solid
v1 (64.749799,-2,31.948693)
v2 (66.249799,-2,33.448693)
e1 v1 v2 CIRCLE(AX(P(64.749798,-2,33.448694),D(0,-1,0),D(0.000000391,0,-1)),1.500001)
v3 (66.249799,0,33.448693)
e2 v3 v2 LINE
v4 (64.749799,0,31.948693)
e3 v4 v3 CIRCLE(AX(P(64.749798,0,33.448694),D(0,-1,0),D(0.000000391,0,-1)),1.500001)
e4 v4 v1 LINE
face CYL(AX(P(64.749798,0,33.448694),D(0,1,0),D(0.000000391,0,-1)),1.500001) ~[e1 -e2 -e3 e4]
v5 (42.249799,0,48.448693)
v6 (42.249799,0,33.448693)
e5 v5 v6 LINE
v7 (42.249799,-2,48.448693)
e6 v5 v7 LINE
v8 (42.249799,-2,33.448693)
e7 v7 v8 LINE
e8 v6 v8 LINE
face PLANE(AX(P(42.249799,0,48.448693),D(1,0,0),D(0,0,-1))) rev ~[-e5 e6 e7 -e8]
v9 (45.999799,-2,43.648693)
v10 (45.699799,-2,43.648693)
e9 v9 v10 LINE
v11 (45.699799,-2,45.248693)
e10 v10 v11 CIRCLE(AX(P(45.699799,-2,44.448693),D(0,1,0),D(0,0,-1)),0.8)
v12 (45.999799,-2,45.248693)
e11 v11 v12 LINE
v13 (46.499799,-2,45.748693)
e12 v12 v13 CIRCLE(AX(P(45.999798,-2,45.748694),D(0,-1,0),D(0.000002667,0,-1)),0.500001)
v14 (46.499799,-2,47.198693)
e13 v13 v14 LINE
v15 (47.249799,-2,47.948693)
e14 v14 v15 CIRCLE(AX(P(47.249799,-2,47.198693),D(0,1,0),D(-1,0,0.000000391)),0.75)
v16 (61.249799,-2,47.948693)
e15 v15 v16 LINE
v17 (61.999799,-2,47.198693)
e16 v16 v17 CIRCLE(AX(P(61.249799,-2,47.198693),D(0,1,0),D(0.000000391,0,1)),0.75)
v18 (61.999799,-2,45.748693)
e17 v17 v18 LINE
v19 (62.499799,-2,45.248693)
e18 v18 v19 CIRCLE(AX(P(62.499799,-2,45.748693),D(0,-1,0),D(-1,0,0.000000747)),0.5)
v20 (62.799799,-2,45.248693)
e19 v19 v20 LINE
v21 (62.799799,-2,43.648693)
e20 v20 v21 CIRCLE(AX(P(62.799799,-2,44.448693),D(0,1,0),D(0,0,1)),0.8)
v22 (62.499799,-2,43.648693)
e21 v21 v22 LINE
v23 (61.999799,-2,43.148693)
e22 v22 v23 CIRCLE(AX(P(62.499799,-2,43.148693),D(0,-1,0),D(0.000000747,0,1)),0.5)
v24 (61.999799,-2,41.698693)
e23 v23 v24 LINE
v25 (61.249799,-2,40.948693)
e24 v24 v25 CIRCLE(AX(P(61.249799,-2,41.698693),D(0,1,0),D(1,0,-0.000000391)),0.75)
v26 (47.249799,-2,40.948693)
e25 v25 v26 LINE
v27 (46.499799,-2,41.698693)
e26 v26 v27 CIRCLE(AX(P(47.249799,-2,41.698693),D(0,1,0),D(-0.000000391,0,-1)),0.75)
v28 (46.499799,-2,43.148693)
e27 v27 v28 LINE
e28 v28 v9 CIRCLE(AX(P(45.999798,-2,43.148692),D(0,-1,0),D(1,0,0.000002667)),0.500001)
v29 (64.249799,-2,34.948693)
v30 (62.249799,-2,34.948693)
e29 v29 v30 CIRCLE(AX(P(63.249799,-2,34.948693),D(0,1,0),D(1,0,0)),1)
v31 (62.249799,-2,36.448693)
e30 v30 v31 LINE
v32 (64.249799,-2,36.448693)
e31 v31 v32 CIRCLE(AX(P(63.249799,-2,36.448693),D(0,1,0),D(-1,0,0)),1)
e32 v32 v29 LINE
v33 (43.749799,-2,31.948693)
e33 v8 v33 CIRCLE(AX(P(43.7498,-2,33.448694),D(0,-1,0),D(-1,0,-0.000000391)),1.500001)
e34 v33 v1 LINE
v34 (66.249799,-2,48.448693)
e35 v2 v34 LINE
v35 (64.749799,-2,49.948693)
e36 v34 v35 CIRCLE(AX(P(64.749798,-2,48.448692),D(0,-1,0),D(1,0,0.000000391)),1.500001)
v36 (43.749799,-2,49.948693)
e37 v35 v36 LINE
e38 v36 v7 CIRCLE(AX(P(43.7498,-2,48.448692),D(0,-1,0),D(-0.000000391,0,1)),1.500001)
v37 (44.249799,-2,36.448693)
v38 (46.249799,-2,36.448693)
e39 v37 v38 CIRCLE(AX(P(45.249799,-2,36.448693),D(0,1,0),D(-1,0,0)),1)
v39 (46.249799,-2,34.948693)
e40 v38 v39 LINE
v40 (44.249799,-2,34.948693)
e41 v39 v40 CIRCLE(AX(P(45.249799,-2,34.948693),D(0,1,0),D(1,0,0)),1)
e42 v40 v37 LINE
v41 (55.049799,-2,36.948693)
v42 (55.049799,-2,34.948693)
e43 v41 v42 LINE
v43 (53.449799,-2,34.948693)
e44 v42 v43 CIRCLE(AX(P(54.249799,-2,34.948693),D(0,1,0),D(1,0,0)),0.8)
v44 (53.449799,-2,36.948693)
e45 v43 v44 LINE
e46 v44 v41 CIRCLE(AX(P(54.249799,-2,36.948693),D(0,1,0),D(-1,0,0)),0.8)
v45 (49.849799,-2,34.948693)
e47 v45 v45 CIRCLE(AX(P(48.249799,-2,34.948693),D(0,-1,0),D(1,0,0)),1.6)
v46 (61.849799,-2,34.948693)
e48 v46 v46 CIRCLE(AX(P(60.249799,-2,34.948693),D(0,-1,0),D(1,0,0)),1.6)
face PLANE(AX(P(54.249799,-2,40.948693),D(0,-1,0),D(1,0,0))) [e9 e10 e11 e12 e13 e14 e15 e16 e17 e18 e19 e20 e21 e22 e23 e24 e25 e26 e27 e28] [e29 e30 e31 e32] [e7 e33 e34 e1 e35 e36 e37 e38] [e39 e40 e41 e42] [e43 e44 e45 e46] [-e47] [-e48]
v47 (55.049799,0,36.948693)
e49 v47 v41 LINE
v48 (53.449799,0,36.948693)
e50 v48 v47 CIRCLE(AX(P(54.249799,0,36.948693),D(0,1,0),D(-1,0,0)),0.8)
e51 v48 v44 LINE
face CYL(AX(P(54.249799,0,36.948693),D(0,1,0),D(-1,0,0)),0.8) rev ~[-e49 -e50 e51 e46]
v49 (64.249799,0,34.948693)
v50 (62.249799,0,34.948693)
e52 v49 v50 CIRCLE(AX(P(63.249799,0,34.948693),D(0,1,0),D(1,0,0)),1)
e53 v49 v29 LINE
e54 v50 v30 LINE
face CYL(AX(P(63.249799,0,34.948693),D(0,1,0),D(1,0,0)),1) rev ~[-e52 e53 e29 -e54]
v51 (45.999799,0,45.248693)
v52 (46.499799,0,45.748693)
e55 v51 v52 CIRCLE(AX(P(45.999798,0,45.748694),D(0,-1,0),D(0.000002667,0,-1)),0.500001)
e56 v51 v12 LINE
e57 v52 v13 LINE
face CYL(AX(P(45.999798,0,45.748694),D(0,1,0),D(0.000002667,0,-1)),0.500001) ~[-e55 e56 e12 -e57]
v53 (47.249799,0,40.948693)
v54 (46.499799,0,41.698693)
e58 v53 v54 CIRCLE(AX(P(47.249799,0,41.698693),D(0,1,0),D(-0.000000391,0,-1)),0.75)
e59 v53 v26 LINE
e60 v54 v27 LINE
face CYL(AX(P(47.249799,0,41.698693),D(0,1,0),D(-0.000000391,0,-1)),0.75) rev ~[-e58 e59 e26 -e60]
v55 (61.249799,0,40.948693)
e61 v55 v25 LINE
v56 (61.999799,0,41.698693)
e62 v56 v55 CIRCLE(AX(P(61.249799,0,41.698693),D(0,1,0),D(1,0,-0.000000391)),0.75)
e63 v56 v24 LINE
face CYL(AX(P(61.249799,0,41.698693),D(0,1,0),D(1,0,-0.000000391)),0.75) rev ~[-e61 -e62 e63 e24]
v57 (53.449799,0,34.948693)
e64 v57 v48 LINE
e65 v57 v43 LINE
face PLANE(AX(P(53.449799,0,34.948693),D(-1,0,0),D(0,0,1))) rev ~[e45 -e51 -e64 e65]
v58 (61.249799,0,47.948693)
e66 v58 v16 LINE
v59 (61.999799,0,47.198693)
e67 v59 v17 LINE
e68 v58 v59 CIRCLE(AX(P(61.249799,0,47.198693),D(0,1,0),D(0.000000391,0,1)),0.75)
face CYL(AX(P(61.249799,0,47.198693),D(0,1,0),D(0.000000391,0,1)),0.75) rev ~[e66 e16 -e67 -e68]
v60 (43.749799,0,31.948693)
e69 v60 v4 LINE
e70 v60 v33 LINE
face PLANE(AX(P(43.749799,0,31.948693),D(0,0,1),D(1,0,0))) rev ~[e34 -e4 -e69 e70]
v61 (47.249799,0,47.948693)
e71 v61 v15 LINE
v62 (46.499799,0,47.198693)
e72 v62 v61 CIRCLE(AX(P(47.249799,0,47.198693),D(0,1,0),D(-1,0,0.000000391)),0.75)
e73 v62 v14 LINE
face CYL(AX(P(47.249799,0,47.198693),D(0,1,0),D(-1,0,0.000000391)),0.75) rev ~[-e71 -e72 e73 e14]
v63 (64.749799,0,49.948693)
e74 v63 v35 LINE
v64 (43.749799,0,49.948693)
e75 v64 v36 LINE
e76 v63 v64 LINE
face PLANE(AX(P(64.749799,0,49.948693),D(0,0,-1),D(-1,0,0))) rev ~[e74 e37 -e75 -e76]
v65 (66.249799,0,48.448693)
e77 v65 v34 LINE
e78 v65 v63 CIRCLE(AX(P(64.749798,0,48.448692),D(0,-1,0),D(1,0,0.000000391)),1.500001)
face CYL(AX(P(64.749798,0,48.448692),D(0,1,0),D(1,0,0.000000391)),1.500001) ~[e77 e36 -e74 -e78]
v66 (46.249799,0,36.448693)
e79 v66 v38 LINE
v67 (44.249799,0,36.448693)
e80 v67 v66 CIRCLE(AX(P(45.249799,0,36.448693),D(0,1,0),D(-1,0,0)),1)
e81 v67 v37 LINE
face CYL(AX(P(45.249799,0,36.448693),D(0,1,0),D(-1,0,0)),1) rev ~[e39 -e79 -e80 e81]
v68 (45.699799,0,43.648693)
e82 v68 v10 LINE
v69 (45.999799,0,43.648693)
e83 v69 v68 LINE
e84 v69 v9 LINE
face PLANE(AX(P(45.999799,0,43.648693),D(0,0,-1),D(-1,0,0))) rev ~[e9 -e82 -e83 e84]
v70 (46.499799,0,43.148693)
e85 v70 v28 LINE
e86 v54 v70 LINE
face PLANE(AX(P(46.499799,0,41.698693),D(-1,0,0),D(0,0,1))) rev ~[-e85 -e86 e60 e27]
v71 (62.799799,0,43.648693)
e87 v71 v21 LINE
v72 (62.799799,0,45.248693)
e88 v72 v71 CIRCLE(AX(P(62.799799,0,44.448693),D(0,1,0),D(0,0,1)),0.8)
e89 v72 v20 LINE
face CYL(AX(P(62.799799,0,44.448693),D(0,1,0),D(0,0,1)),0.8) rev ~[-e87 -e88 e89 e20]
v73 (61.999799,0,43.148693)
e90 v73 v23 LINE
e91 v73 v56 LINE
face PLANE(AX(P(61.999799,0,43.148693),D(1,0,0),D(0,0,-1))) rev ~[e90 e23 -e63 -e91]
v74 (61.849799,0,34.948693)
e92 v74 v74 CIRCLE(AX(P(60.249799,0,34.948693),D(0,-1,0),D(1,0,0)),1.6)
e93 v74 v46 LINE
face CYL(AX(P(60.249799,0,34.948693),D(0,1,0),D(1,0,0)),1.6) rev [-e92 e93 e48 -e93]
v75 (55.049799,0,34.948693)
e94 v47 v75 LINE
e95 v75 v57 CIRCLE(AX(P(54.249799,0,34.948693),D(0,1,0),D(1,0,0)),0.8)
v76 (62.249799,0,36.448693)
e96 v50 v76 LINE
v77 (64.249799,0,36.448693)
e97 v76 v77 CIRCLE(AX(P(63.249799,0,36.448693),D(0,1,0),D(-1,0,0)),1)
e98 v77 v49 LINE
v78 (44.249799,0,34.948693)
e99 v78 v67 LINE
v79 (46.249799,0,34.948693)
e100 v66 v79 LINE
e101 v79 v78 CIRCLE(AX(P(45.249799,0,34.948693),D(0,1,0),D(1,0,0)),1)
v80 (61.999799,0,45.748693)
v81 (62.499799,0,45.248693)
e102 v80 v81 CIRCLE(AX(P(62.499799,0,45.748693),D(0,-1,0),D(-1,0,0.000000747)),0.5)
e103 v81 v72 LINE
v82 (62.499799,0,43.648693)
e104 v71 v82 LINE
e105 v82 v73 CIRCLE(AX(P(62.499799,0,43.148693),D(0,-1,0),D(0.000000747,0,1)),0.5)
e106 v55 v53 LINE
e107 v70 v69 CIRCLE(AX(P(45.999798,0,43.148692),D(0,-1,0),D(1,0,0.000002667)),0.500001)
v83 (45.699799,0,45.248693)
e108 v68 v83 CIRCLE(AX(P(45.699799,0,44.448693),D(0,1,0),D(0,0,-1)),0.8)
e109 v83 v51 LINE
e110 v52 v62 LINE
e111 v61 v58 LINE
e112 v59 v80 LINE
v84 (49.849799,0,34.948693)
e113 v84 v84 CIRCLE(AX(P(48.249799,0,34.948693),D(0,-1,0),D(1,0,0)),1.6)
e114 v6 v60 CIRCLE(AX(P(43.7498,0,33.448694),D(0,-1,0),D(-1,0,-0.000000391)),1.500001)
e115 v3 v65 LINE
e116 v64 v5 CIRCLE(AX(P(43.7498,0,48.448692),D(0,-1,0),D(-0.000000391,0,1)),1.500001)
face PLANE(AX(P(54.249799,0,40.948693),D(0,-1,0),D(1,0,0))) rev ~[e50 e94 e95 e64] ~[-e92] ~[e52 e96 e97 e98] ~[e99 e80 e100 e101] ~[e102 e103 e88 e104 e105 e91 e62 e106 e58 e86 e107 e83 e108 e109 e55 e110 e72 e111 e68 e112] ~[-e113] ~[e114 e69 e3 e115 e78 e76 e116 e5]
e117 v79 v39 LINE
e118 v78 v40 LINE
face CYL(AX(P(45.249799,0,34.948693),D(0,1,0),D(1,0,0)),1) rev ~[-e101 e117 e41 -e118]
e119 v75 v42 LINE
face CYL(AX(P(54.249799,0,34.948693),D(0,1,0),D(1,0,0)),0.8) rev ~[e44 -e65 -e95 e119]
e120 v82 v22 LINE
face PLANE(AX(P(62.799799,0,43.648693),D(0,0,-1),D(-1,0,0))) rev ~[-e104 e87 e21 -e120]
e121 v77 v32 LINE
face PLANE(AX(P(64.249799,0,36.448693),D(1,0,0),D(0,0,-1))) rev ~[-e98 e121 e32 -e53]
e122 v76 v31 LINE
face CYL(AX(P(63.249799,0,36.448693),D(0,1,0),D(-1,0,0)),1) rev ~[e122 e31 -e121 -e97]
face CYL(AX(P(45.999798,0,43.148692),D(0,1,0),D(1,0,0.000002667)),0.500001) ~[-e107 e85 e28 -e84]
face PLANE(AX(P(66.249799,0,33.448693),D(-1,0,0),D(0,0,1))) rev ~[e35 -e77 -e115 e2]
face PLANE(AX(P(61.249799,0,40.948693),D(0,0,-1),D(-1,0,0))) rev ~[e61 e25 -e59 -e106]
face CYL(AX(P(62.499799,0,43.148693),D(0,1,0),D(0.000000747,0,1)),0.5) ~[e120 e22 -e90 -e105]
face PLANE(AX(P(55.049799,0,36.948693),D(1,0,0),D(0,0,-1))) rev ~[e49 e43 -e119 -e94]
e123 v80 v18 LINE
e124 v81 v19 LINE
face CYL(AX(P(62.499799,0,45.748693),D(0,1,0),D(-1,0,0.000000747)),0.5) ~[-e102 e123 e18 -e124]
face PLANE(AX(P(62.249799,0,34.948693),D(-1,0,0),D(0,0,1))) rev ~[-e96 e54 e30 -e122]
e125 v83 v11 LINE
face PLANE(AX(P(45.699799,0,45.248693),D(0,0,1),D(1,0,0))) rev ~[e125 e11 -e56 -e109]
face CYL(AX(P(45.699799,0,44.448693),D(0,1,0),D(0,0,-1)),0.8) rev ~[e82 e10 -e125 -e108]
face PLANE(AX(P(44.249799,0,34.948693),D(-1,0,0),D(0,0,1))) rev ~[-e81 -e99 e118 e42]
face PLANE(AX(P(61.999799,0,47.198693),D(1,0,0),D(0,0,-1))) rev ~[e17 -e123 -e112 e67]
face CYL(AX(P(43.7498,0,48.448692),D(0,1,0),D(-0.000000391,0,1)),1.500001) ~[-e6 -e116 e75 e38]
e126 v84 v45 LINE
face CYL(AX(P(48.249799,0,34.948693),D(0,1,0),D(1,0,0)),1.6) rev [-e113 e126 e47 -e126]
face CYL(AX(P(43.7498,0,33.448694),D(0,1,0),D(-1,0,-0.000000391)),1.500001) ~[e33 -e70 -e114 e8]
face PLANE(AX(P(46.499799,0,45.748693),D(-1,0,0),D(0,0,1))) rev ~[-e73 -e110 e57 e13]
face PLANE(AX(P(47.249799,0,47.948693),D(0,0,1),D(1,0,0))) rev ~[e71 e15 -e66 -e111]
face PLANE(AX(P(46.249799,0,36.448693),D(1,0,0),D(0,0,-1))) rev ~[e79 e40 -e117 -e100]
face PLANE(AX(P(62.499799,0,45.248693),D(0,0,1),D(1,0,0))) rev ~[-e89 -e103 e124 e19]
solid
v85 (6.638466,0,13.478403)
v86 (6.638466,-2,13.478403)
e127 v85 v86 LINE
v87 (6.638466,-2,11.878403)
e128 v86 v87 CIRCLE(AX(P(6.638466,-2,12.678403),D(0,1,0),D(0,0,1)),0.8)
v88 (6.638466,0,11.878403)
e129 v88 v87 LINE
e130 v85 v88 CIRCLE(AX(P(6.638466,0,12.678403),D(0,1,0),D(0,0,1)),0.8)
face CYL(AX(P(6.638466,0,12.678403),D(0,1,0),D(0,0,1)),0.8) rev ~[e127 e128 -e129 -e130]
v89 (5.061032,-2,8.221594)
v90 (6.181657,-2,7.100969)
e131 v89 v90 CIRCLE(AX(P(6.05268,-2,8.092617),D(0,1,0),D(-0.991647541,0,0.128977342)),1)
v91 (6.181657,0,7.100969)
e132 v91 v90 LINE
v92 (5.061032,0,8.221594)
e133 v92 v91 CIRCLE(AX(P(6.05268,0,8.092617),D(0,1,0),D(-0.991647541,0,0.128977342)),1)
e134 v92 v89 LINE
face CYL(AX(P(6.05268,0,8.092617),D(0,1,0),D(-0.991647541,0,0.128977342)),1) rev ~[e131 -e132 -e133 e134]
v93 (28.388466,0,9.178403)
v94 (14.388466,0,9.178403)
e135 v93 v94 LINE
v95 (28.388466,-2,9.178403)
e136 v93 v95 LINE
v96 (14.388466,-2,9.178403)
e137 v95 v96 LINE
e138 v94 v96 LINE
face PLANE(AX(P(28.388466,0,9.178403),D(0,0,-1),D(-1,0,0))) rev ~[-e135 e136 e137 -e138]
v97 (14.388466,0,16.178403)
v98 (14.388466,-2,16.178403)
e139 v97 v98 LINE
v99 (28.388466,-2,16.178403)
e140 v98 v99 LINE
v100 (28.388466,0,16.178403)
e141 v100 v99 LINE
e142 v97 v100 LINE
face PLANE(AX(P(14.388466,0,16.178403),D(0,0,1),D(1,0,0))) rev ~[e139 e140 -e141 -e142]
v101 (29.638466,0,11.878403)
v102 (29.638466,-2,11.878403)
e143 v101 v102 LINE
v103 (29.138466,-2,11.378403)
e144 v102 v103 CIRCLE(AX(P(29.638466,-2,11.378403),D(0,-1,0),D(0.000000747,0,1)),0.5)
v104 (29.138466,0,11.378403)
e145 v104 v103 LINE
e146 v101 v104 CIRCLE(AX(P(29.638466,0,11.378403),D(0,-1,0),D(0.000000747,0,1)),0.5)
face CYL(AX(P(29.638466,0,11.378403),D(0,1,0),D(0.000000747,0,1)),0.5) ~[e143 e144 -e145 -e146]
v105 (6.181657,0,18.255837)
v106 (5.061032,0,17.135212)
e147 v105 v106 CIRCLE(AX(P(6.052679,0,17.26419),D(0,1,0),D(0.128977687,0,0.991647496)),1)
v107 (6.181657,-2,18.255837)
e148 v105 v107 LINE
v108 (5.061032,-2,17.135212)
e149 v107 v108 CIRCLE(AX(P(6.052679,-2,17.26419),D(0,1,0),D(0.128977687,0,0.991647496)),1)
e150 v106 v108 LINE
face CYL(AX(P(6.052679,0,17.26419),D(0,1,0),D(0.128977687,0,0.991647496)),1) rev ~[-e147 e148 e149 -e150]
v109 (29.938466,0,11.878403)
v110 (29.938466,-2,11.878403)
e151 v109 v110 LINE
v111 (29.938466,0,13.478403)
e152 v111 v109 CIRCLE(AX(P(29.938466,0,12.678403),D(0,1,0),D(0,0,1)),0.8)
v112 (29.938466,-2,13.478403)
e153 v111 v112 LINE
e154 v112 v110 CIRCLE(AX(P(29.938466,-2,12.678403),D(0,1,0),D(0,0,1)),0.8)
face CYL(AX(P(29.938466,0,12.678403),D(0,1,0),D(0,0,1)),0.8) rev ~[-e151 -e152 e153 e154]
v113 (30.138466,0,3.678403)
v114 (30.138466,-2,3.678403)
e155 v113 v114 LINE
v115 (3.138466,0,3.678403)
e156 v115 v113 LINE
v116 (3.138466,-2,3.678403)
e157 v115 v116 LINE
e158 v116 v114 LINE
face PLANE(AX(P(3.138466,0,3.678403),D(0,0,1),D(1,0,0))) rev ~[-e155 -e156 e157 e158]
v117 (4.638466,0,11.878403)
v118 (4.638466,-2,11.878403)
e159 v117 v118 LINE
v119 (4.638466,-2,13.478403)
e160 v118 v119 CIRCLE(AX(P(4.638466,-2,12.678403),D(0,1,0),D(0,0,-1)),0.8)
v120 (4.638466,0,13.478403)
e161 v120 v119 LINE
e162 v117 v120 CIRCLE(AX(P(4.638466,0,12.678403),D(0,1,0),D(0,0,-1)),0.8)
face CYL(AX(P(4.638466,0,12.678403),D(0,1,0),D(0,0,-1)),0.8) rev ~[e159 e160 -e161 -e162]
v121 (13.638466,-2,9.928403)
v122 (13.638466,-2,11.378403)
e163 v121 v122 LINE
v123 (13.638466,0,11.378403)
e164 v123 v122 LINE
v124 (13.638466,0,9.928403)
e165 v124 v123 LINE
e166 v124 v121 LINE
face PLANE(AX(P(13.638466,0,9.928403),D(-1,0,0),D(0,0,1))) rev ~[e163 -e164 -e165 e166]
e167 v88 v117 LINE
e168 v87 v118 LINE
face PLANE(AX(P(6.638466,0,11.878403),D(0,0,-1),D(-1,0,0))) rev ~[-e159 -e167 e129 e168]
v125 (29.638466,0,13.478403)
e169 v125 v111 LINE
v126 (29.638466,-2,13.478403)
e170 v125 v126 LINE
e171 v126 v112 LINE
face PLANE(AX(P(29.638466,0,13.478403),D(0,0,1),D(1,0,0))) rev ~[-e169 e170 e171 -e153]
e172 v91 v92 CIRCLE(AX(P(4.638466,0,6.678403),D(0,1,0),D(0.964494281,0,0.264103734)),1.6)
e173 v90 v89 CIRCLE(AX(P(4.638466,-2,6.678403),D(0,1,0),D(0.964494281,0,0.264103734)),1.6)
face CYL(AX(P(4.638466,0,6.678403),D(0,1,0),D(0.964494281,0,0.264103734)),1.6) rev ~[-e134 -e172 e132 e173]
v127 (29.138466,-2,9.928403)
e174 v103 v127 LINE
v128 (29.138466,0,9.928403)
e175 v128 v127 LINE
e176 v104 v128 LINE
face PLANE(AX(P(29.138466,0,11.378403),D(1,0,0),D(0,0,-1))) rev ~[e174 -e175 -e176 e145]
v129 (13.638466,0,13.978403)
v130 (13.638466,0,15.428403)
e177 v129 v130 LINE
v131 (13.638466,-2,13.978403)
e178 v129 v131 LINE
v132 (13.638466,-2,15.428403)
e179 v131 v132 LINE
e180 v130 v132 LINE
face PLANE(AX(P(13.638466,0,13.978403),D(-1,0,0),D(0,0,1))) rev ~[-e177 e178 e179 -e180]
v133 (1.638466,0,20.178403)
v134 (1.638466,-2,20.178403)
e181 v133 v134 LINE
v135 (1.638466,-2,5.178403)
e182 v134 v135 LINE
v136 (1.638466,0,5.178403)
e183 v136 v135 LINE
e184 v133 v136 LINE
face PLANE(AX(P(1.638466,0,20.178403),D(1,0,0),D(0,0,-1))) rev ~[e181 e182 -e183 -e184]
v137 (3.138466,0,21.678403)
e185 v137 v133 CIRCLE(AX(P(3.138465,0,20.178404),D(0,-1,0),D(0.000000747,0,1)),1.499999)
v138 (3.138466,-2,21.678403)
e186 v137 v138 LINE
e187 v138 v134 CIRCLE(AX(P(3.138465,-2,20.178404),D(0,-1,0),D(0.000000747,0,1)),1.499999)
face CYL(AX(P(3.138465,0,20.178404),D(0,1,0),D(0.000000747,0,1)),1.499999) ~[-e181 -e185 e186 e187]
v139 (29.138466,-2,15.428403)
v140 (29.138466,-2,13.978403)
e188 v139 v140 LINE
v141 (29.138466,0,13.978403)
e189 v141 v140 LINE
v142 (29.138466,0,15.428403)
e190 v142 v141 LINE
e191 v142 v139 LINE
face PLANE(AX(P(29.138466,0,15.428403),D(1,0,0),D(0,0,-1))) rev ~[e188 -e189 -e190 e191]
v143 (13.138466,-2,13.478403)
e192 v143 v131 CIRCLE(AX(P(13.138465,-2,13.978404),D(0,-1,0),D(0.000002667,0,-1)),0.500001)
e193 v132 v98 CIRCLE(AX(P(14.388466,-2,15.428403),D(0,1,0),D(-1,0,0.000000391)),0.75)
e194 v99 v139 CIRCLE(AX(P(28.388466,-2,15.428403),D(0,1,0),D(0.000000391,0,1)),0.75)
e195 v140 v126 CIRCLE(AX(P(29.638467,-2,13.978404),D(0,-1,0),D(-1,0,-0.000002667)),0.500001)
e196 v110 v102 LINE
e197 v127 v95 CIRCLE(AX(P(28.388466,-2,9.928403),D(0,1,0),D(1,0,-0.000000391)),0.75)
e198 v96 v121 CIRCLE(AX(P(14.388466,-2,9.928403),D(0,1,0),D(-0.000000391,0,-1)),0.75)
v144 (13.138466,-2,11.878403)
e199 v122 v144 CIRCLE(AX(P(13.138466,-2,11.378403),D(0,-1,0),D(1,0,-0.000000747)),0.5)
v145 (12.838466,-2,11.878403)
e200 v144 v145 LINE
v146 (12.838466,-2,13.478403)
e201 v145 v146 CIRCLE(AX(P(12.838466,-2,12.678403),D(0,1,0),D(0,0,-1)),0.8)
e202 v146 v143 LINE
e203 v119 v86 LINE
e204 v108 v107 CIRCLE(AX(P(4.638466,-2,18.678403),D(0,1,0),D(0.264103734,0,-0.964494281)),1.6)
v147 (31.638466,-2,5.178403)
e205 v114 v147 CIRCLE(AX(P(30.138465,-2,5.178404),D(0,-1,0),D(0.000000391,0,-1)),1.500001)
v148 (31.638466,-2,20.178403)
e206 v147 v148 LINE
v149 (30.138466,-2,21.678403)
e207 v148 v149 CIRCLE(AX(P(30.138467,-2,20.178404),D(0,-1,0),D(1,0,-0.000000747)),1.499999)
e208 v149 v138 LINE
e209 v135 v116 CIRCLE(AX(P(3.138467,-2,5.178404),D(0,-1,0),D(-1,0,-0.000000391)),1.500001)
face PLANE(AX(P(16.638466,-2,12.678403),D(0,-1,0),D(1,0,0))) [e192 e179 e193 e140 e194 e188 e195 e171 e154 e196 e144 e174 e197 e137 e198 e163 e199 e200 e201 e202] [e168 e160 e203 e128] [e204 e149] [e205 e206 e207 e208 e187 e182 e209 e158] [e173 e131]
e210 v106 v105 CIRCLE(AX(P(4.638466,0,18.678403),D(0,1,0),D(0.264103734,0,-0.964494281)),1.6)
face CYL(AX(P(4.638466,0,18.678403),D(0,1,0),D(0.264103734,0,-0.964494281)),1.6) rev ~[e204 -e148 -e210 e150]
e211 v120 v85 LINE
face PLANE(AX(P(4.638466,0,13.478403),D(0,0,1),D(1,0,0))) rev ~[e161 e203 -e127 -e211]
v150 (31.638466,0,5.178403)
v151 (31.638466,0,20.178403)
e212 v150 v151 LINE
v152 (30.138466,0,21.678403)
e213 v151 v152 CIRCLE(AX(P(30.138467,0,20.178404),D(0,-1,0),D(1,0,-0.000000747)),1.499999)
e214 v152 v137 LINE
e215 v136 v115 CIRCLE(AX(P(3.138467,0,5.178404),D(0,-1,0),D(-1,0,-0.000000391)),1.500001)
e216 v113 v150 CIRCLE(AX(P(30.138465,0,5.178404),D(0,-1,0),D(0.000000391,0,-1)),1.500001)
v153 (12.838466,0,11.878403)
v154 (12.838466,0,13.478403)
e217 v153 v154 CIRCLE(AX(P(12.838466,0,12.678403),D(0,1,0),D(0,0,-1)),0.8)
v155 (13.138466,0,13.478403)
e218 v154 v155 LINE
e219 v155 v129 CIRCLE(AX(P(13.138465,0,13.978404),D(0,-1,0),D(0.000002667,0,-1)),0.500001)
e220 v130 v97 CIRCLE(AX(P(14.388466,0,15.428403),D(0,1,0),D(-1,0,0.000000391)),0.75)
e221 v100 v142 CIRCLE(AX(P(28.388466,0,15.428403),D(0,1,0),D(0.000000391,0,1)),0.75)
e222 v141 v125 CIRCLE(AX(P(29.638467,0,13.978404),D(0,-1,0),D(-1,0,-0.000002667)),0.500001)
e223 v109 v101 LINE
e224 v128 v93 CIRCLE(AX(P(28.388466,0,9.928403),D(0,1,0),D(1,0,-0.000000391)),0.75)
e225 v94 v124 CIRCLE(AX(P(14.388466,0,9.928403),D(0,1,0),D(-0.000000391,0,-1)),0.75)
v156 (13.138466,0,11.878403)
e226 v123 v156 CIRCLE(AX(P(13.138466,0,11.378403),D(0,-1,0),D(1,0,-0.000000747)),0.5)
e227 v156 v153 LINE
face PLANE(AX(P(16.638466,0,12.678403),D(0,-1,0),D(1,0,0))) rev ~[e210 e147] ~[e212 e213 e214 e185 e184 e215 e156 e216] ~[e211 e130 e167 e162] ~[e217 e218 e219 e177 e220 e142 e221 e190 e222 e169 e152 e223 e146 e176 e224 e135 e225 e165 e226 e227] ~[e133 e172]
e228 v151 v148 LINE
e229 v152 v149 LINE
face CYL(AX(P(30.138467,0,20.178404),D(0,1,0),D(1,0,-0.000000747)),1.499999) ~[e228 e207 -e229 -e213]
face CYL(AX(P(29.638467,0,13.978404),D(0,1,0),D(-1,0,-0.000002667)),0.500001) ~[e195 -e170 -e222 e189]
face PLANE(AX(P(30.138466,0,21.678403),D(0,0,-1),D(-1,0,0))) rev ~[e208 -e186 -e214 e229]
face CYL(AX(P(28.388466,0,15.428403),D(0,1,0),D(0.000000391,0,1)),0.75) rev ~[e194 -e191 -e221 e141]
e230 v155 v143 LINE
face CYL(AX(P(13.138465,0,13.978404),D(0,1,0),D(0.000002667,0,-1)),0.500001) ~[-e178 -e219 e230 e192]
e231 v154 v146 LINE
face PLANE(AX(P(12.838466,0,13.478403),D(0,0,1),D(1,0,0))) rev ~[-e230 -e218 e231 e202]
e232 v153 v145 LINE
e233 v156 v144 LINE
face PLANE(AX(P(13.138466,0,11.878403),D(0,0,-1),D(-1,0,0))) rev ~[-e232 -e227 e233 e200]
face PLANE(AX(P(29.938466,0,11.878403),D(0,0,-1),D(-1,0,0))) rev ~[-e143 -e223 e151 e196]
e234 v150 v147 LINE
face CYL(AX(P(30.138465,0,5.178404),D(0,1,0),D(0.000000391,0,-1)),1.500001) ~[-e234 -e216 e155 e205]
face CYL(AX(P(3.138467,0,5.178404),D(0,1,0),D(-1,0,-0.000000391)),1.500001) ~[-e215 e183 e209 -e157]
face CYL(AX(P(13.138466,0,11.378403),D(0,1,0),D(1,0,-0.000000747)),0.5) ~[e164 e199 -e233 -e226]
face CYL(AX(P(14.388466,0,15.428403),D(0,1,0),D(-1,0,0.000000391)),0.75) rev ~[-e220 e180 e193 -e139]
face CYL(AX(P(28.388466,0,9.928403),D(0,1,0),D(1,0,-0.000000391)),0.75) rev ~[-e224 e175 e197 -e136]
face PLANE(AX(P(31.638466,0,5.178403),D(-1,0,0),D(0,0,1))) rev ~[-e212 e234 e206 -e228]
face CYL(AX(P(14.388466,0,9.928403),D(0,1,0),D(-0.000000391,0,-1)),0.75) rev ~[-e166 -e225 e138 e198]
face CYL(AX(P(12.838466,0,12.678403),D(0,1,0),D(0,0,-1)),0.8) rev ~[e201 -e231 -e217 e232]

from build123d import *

# Parameters (mm, degrees)
F0_R     = 1.6
F1_DEPTH = 2
F2_DEPTH = 2


with BuildPart() as f1:
    # F0 (on Front) → F1 (new body)
    with BuildSketch(Plane.XZ):
        with BuildLine():
            Line((64.749799, 49.948693), (43.749799, 49.948693))
            ThreePointArc((43.749799, 49.948693), (42.689139, 49.509353), (42.249799, 48.448693))
            Line((42.249799, 48.448693), (42.249799, 33.448693))
            ThreePointArc((42.249799, 33.448693), (42.689139, 32.388033), (43.749799, 31.948693))
            Line((43.749799, 31.948693), (64.749799, 31.948693))
            ThreePointArc((64.749799, 31.948693), (65.810459, 32.388033), (66.249799, 33.448693))
            Line((66.249799, 33.448693), (66.249799, 48.448693))
            ThreePointArc((66.249799, 48.448693), (65.810459, 49.509353), (64.749799, 49.948693))
        make_face()
        with Locations((48.249799, 34.948693)):
            Circle(F0_R, mode=Mode.SUBTRACT)
        with BuildLine():
            Line((44.249799, 34.948693), (44.249799, 36.448693))
            ThreePointArc((44.249799, 36.448693), (45.249799, 37.448693), (46.249799, 36.448693))
            Line((46.249799, 36.448693), (46.249799, 34.948693))
            ThreePointArc((46.249799, 34.948693), (45.249799, 33.948693), (44.249799, 34.948693))
        make_face(mode=Mode.SUBTRACT)
        with BuildLine():
            ThreePointArc((53.449799, 36.948693), (54.249799, 37.748693), (55.049799, 36.948693))
            Line((55.049799, 36.948693), (55.049799, 34.948693))
            ThreePointArc((55.049799, 34.948693), (54.249799, 34.148693), (53.449799, 34.948693))
            Line((53.449799, 34.948693), (53.449799, 36.948693))
        make_face(mode=Mode.SUBTRACT)
        with Locations((60.249799, 34.948693)):
            Circle(F0_R, mode=Mode.SUBTRACT)
        with BuildLine():
            Line((62.249799, 34.948693), (62.249799, 36.448693))
            ThreePointArc((62.249799, 36.448693), (63.249799, 37.448693), (64.249799, 36.448693))
            Line((64.249799, 36.448693), (64.249799, 34.948693))
            ThreePointArc((64.249799, 34.948693), (63.249799, 33.948693), (62.249799, 34.948693))
        make_face(mode=Mode.SUBTRACT)
        with BuildLine():
            ThreePointArc((46.499799, 47.198693), (46.719469, 47.729023), (47.249799, 47.948693))
            Line((47.249799, 47.948693), (61.249799, 47.948693))
            ThreePointArc((61.249799, 47.948693), (61.780129, 47.729023), (61.999799, 47.198693))
            Line((61.999799, 47.198693), (61.999799, 45.748693))
            ThreePointArc((61.999799, 45.748693), (62.146245, 45.39514), (62.499799, 45.248693))
            Line((62.499799, 45.248693), (62.799799, 45.248693))
            ThreePointArc((62.799799, 45.248693), (63.599799, 44.448693), (62.799799, 43.648693))
            Line((62.799799, 43.648693), (62.499799, 43.648693))
            ThreePointArc((62.499799, 43.648693), (62.146245, 43.502246), (61.999799, 43.148693))
            Line((61.999799, 43.148693), (61.999799, 41.698693))
            ThreePointArc((61.999799, 41.698693), (61.780129, 41.168363), (61.249799, 40.948693))
            Line((61.249799, 40.948693), (47.249799, 40.948693))
            ThreePointArc((47.249799, 40.948693), (46.719469, 41.168363), (46.499799, 41.698693))
            Line((46.499799, 41.698693), (46.499799, 43.148693))
            ThreePointArc((46.499799, 43.148693), (46.353352, 43.502246), (45.999799, 43.648693))
            Line((45.999799, 43.648693), (45.699799, 43.648693))
            ThreePointArc((45.699799, 43.648693), (44.899799, 44.448693), (45.699799, 45.248693))
            Line((45.699799, 45.248693), (45.999799, 45.248693))
            ThreePointArc((45.999799, 45.248693), (46.353352, 45.39514), (46.499799, 45.748693))
            Line((46.499799, 45.748693), (46.499799, 47.198693))
        make_face(mode=Mode.SUBTRACT)
    extrude(amount=F1_DEPTH)


with BuildPart() as f2:
    # F0 (on Front) → F2 (new body)
    with BuildSketch(Plane.XZ):
        with BuildLine():
            ThreePointArc((1.638466, 5.178403), (2.077806, 4.117743), (3.138466, 3.678403))
            Line((3.138466, 3.678403), (30.138466, 3.678403))
            ThreePointArc((30.138466, 3.678403), (31.199126, 4.117743), (31.638466, 5.178403))
            Line((31.638466, 5.178403), (31.638466, 20.178403))
            ThreePointArc((31.638466, 20.178403), (31.199126, 21.239064), (30.138466, 21.678403))
            Line((30.138466, 21.678403), (3.138466, 21.678403))
            ThreePointArc((3.138466, 21.678403), (2.077806, 21.239064), (1.638466, 20.178403))
            Line((1.638466, 20.178403), (1.638466, 5.178403))
        make_face()
        with BuildLine():
            ThreePointArc((6.181657, 7.100969), (3.507095, 5.547032), (5.061032, 8.221594))
            ThreePointArc((5.061032, 8.221594), (6.759786, 8.799724), (6.181657, 7.100969))
        make_face(mode=Mode.SUBTRACT)
        with BuildLine():
            Line((6.638466, 11.878403), (4.638466, 11.878403))
            ThreePointArc((4.638466, 11.878403), (3.838466, 12.678403), (4.638466, 13.478403))
            Line((4.638466, 13.478403), (6.638466, 13.478403))
            ThreePointArc((6.638466, 13.478403), (7.438466, 12.678403), (6.638466, 11.878403))
        make_face(mode=Mode.SUBTRACT)
        with BuildLine():
            ThreePointArc((13.638466, 15.428403), (13.858136, 15.958733), (14.388466, 16.178403))
            Line((14.388466, 16.178403), (28.388466, 16.178403))
            ThreePointArc((28.388466, 16.178403), (28.918796, 15.958733), (29.138466, 15.428403))
            Line((29.138466, 15.428403), (29.138466, 13.978403))
            ThreePointArc((29.138466, 13.978403), (29.284913, 13.62485), (29.638466, 13.478403))
            Line((29.638466, 13.478403), (29.938466, 13.478403))
            ThreePointArc((29.938466, 13.478403), (30.738466, 12.678403), (29.938466, 11.878403))
            Line((29.938466, 11.878403), (29.638466, 11.878403))
            ThreePointArc((29.638466, 11.878403), (29.284913, 11.731957), (29.138466, 11.378403))
            Line((29.138466, 11.378403), (29.138466, 9.928403))
            ThreePointArc((29.138466, 9.928403), (28.918796, 9.398073), (28.388466, 9.178403))
            Line((28.388466, 9.178403), (14.388466, 9.178403))
            ThreePointArc((14.388466, 9.178403), (13.858136, 9.398073), (13.638466, 9.928403))
            Line((13.638466, 9.928403), (13.638466, 11.378403))
            ThreePointArc((13.638466, 11.378403), (13.492019, 11.731957), (13.138466, 11.878403))
            Line((13.138466, 11.878403), (12.838466, 11.878403))
            ThreePointArc((12.838466, 11.878403), (12.038466, 12.678403), (12.838466, 13.478403))
            Line((12.838466, 13.478403), (13.138466, 13.478403))
            ThreePointArc((13.138466, 13.478403), (13.492019, 13.62485), (13.638466, 13.978403))
            Line((13.638466, 13.978403), (13.638466, 15.428403))
        make_face(mode=Mode.SUBTRACT)
        with BuildLine():
            ThreePointArc((5.061032, 17.135212), (3.507095, 19.809774), (6.181657, 18.255837))
            ThreePointArc((6.181657, 18.255837), (6.759786, 16.557083), (5.061032, 17.135212))
        make_face(mode=Mode.SUBTRACT)
    extrude(amount=F2_DEPTH)


solid = Compound([f1.part, f2.part])
